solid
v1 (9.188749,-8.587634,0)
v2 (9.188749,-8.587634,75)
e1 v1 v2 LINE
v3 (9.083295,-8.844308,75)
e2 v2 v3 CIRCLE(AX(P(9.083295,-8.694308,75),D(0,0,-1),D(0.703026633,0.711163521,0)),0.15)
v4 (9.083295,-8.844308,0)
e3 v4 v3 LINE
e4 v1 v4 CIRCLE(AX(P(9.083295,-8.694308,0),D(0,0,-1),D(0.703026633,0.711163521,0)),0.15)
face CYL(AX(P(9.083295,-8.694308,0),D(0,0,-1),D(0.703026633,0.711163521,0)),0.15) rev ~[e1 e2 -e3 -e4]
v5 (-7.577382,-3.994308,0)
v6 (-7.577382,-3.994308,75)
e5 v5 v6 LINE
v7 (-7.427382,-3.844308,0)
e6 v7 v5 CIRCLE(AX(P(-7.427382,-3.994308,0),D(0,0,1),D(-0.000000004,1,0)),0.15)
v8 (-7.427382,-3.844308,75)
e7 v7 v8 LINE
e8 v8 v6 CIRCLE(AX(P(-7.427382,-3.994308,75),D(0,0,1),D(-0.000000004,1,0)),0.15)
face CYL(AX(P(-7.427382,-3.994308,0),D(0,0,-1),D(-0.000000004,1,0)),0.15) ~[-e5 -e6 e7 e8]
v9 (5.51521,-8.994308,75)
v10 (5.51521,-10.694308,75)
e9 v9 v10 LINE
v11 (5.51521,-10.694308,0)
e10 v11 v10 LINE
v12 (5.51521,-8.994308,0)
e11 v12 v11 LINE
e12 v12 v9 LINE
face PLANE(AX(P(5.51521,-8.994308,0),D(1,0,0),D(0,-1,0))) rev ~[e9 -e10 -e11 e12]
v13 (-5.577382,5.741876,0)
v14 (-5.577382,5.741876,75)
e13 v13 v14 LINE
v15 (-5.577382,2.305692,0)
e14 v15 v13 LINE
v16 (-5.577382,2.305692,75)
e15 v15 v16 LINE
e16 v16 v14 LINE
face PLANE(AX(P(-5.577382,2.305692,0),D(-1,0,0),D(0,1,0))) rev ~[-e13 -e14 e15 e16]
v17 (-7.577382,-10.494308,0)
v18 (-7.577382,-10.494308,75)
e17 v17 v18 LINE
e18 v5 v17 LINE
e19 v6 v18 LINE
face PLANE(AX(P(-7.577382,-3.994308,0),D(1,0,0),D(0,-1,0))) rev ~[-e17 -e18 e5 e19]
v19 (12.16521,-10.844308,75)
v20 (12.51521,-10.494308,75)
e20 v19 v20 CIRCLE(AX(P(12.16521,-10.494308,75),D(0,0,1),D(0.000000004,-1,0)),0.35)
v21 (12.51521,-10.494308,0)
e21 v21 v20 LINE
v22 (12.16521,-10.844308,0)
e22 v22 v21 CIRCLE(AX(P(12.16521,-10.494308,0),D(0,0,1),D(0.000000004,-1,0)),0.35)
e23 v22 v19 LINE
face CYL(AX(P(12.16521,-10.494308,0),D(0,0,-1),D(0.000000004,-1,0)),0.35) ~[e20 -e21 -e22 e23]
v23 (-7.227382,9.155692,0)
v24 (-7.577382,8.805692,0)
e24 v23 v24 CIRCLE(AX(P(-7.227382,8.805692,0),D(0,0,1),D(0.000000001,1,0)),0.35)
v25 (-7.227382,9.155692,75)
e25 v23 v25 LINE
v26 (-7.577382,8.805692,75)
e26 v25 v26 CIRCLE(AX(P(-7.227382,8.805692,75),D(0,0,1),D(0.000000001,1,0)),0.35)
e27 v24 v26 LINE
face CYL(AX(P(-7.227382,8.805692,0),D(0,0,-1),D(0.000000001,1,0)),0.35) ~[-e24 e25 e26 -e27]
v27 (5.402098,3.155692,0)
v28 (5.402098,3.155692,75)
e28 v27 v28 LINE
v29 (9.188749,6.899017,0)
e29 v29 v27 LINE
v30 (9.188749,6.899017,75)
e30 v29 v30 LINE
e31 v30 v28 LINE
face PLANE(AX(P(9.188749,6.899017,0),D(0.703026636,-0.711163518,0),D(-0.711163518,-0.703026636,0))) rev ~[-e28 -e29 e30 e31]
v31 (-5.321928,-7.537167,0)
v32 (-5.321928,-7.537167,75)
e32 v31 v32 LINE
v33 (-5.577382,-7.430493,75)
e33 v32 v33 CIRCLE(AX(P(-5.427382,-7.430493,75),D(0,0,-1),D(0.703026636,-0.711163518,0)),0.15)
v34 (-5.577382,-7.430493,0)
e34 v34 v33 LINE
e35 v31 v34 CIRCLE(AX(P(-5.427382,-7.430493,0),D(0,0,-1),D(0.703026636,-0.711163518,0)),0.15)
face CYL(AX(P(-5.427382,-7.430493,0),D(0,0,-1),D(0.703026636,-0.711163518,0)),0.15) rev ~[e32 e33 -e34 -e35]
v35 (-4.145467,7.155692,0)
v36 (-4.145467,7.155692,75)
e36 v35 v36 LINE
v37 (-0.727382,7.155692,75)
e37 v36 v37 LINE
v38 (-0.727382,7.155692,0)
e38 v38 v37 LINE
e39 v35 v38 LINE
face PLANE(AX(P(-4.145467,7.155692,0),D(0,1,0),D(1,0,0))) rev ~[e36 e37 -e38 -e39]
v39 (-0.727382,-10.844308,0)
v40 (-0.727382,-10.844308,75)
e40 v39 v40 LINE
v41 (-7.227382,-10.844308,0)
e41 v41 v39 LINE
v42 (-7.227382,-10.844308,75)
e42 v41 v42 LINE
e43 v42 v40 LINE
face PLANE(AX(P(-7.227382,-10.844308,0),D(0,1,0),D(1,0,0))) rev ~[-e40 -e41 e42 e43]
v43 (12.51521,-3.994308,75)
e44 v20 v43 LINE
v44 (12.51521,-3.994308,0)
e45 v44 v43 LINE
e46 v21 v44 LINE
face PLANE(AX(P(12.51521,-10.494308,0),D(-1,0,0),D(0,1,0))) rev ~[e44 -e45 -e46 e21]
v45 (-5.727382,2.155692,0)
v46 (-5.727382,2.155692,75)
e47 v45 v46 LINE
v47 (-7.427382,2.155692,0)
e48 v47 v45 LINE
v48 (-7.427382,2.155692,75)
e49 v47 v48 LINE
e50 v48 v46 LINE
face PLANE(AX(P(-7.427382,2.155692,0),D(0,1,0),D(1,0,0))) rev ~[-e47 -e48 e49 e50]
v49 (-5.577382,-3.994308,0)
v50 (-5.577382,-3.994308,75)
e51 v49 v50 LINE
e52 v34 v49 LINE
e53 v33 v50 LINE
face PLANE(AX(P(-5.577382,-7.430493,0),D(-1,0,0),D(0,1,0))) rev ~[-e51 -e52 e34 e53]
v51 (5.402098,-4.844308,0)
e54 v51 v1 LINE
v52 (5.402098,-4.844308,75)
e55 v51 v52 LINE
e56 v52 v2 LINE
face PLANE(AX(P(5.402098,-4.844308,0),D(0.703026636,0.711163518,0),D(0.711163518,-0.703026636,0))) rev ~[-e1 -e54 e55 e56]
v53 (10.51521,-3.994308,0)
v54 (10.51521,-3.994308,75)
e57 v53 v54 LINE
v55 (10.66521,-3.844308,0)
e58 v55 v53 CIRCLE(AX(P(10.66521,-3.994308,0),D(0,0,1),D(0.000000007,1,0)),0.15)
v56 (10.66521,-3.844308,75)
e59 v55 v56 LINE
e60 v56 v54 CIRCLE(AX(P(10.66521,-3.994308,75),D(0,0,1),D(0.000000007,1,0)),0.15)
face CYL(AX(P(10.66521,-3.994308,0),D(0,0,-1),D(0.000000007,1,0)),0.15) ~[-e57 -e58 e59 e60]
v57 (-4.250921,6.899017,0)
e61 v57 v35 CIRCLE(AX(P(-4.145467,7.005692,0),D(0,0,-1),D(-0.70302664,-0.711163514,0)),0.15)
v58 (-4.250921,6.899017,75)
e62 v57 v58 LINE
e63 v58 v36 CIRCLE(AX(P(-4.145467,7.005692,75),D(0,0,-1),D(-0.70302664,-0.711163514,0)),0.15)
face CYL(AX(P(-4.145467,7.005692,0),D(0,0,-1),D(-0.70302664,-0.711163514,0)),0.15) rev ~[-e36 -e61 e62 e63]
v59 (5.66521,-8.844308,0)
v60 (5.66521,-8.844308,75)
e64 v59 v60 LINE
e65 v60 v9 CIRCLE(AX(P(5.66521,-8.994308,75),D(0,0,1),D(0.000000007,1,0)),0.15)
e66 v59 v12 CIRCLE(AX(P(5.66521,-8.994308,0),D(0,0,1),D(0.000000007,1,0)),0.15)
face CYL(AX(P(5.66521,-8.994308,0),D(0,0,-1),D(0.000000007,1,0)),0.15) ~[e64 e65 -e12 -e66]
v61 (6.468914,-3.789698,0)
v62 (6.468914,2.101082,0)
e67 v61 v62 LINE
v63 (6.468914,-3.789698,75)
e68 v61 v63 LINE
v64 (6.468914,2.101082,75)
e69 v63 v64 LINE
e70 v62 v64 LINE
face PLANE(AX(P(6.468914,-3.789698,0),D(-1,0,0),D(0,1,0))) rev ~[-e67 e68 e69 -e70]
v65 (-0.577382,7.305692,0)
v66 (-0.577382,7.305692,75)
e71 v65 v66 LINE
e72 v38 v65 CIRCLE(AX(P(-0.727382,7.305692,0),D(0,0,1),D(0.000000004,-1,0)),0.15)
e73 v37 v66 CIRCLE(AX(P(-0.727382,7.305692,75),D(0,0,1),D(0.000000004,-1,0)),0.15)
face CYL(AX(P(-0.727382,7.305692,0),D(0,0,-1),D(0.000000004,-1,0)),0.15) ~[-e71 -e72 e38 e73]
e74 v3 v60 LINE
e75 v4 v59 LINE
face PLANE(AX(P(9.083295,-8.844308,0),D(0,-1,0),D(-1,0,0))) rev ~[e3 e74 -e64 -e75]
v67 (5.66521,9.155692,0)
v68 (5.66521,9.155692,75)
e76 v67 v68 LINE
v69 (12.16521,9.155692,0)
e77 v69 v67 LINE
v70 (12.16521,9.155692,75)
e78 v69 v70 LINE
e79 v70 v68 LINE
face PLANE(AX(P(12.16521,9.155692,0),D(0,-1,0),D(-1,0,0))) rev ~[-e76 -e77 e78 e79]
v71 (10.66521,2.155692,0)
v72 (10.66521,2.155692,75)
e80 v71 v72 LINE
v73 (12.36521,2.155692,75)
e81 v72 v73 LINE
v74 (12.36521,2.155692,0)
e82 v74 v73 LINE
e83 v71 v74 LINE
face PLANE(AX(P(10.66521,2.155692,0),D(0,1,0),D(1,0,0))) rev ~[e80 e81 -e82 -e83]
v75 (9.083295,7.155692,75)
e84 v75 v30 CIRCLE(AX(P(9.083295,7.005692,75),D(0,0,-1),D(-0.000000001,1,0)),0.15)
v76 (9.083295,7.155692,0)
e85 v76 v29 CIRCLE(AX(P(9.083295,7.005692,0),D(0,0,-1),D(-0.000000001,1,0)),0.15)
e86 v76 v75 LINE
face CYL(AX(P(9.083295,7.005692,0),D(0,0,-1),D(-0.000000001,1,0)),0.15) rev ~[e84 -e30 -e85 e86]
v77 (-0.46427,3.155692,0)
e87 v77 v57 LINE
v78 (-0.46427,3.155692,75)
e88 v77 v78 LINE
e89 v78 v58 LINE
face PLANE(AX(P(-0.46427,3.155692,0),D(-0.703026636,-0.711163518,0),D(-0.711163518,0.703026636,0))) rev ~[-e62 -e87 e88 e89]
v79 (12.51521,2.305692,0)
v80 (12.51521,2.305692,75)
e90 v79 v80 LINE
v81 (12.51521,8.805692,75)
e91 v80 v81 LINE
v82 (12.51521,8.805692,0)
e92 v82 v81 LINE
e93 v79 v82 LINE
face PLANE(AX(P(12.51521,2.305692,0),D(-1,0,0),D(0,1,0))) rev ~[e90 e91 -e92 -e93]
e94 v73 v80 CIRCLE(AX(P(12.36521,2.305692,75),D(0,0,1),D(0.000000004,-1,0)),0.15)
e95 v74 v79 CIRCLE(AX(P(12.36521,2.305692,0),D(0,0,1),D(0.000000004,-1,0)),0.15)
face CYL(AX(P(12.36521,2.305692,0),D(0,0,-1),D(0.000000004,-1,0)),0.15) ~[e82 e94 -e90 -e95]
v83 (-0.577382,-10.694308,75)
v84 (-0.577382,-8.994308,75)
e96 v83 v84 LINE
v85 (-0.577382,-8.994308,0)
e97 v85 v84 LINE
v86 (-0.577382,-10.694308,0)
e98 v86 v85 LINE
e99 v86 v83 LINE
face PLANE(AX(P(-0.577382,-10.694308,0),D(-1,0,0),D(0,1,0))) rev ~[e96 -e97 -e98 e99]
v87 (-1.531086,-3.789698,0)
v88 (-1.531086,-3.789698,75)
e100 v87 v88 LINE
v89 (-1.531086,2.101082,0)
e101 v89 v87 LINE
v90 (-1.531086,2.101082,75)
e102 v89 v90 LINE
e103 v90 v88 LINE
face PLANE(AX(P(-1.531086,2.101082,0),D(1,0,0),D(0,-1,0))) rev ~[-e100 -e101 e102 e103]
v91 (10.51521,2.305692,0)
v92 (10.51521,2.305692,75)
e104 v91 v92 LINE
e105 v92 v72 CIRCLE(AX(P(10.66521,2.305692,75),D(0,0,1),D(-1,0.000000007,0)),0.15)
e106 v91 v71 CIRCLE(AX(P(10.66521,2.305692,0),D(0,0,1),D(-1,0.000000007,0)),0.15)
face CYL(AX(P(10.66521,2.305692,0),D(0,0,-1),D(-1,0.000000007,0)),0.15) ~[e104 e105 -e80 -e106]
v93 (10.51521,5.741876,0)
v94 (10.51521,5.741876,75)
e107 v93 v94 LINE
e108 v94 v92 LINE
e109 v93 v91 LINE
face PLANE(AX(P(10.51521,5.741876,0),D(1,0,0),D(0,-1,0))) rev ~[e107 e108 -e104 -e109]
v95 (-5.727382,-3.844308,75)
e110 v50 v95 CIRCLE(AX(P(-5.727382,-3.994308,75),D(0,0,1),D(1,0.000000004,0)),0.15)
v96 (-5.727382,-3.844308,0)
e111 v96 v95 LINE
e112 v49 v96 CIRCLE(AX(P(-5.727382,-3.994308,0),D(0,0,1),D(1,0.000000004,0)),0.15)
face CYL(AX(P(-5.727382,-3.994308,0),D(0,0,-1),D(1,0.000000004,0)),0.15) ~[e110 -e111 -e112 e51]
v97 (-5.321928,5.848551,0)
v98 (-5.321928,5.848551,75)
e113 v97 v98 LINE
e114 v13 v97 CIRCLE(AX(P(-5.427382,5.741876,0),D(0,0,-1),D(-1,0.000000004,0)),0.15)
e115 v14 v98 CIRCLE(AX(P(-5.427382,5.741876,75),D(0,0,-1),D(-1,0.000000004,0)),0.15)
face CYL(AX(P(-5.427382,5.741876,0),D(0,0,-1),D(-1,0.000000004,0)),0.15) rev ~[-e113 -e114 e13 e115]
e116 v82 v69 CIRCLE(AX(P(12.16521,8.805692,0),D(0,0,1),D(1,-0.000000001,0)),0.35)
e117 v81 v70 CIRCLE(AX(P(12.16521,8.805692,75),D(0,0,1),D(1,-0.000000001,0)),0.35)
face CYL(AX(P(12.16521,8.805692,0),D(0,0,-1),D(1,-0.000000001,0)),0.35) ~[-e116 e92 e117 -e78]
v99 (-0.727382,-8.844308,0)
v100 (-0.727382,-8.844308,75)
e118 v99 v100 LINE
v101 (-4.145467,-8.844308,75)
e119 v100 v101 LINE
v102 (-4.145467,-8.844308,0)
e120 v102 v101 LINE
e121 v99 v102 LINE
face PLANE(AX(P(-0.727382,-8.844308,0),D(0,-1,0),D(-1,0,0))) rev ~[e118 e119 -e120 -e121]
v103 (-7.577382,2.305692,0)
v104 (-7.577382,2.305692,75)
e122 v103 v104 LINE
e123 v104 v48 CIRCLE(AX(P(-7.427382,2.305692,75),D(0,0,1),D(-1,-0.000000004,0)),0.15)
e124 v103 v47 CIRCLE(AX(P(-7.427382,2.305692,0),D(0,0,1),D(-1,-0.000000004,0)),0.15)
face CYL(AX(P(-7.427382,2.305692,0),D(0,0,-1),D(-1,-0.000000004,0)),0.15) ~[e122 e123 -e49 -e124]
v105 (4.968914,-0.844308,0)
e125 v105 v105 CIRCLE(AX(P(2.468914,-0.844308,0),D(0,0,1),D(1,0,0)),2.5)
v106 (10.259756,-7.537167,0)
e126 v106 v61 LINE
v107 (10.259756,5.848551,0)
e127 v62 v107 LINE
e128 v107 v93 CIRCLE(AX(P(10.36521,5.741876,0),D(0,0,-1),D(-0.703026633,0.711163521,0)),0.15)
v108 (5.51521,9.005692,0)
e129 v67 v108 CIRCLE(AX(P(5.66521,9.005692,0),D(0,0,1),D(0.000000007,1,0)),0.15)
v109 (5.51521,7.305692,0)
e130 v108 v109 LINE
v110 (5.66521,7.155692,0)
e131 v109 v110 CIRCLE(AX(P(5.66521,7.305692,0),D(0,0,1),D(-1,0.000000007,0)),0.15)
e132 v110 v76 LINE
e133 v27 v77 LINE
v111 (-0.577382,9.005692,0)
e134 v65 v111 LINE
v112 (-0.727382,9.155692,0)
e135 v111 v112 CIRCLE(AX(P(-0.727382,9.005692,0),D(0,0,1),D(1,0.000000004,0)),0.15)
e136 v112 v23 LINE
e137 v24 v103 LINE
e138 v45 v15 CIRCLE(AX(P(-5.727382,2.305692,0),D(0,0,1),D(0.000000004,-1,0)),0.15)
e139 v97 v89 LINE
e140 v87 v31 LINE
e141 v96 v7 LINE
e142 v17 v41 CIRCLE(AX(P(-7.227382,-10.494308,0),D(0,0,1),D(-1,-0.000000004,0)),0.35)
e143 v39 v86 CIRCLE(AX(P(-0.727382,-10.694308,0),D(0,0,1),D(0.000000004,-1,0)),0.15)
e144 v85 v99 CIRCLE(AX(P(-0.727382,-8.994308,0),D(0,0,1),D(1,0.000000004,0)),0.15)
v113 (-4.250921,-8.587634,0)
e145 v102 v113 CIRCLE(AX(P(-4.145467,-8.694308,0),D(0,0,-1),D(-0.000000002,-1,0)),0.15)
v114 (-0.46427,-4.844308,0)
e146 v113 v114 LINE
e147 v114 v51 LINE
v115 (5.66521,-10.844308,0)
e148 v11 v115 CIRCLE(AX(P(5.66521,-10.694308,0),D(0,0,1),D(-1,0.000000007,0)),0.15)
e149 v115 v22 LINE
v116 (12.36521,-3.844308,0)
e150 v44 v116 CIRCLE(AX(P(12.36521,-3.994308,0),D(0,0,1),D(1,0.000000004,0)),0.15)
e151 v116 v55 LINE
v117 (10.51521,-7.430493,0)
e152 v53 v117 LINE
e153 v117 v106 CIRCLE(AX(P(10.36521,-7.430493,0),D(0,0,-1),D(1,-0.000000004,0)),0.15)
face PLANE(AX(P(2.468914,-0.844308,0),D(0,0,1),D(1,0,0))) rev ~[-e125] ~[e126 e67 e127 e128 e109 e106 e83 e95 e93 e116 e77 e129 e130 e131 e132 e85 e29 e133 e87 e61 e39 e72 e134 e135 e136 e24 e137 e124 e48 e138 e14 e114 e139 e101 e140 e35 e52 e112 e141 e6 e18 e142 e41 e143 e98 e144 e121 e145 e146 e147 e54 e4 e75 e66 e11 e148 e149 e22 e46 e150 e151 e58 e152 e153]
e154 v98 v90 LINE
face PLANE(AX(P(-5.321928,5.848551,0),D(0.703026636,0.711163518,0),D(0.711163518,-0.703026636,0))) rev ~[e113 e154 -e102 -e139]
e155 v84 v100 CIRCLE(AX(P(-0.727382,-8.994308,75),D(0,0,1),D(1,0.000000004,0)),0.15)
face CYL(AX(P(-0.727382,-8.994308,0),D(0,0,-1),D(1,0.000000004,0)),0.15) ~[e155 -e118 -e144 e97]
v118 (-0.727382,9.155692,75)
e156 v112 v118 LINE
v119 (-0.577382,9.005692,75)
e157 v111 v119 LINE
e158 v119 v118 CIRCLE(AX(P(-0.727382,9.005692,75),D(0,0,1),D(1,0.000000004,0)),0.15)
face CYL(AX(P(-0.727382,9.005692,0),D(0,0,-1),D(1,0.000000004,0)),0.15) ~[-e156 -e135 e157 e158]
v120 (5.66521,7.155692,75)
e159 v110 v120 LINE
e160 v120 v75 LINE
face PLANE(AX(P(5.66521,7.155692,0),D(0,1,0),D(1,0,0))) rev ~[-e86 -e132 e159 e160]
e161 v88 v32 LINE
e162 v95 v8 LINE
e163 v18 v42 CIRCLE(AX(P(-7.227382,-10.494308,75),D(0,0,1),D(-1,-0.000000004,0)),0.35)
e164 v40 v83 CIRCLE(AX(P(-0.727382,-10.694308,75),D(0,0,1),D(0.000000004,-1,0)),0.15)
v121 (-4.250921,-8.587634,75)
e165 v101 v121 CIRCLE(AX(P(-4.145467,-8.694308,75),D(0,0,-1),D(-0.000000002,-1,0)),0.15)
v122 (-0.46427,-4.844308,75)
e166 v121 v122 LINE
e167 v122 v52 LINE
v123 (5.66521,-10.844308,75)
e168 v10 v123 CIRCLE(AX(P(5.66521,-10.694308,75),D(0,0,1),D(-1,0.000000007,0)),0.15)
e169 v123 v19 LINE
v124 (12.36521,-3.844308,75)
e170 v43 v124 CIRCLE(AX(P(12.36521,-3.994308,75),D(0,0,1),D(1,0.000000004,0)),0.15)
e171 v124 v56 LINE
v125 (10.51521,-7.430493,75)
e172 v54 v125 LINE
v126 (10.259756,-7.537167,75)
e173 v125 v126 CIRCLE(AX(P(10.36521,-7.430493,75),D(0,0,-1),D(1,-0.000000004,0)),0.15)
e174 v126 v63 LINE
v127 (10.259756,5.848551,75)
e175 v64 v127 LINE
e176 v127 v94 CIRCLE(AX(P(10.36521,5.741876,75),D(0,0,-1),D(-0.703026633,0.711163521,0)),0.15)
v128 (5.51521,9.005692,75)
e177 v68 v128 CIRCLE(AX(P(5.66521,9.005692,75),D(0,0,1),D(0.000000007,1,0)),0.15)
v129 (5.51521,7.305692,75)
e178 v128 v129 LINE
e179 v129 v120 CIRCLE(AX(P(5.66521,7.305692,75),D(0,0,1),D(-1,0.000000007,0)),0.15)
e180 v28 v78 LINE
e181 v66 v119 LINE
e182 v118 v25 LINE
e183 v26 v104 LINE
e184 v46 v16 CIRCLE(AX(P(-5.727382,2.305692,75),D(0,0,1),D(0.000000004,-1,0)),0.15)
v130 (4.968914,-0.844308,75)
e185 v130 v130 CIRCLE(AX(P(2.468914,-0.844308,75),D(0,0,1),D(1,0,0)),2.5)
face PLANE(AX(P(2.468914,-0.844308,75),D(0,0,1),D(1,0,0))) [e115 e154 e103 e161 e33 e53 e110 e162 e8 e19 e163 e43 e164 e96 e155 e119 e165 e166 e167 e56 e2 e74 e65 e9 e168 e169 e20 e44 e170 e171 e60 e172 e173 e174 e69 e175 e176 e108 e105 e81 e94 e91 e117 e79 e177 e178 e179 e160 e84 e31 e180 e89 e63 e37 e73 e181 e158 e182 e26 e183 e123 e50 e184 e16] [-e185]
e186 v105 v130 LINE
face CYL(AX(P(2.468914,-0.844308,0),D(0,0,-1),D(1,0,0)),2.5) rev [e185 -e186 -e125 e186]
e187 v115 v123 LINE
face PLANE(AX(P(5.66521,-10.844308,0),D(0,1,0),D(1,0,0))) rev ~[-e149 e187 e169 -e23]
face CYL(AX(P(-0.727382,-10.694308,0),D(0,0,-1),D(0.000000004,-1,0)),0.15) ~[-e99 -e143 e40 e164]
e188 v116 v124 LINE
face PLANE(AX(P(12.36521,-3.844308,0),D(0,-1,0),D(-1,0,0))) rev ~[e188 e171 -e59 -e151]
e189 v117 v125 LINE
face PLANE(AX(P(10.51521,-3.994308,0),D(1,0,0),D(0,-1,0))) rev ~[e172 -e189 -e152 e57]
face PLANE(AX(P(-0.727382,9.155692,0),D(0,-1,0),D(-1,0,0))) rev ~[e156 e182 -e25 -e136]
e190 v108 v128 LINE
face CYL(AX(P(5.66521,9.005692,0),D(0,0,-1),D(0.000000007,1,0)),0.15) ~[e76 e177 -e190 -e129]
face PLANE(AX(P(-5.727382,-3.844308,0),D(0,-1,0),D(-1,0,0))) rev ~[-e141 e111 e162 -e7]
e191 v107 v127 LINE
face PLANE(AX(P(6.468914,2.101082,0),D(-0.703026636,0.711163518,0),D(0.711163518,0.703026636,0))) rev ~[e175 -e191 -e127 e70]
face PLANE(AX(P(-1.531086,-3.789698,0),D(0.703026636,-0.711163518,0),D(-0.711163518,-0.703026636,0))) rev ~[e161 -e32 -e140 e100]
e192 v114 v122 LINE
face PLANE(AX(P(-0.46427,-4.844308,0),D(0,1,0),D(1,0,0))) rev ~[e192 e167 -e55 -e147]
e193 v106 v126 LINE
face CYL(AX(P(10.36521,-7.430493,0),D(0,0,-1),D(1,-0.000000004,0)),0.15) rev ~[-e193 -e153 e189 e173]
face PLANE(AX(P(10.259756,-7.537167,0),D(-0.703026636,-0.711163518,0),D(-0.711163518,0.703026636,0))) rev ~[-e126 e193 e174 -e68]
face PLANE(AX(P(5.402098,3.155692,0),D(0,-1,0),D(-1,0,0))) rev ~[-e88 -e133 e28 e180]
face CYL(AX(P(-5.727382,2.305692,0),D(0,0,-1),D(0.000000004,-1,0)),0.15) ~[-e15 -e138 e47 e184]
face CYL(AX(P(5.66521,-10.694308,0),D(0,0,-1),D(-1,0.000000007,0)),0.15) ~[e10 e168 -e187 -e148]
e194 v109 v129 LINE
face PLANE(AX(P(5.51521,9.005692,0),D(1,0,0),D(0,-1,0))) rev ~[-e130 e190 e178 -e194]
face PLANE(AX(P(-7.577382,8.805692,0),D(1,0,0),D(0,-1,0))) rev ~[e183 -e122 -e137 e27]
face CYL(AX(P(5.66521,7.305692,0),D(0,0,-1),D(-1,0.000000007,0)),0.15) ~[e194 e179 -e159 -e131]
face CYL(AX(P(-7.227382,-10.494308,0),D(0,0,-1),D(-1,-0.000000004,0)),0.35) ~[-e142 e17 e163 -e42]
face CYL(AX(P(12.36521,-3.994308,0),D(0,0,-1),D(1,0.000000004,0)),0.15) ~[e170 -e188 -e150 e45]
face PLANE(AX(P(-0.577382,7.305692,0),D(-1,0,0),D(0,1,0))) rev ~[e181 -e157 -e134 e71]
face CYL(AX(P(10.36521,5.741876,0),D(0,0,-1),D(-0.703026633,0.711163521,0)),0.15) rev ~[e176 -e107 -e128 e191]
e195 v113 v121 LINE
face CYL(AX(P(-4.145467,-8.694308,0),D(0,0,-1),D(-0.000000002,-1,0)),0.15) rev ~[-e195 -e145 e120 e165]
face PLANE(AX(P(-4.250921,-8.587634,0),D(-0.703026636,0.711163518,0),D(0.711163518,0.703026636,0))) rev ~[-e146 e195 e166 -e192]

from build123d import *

# Parameters (mm, degrees)
SKETCH1_R           = 2.5
BOSS_EXTRUDE1_DEPTH = 75


with BuildPart() as part:
    # Sketch1 → Boss-Extrude1 (new body)
    with BuildSketch(Plane.XY):
        with BuildLine():
            Line((-7.427382464, 2.155691805), (-5.727382464, 2.155691805))
            ThreePointArc((-5.727382464, 2.155691805), (-5.621316447, 2.199625788), (-5.577382464, 2.305691805))
            Line((-5.577382464, 2.305691805), (-5.577382464, 5.741876319))
            ThreePointArc((-5.577382464, 5.741876319), (-5.485183419, 5.880292537), (-5.321928469, 5.848550846))
            Line((-5.321928469, 5.848550846), (-1.531086168, 2.101082027))
            Line((-1.531086168, 2.101082027), (-1.531086168, -3.789698417))
            Line((-1.531086168, -3.789698417), (-5.321928469, -7.537167236))
            ThreePointArc((-5.321928469, -7.537167236), (-5.485183419, -7.568908927), (-5.577382464, -7.430492708))
            Line((-5.577382464, -7.430492708), (-5.577382464, -3.994308195))
            ThreePointArc((-5.577382464, -3.994308195), (-5.621316447, -3.888242178), (-5.727382464, -3.844308195))
            Line((-5.727382464, -3.844308195), (-7.427382464, -3.844308195))
            ThreePointArc((-7.427382464, -3.844308195), (-7.533448481, -3.888242178), (-7.577382464, -3.994308195))
            Line((-7.577382464, -3.994308195), (-7.577382464, -10.494308195))
            ThreePointArc((-7.577382464, -10.494308195), (-7.474869837, -10.741795568), (-7.227382464, -10.844308195))
            Line((-7.227382464, -10.844308195), (-0.727382464, -10.844308195))
            ThreePointArc((-0.727382464, -10.844308195), (-0.621316447, -10.800374212), (-0.577382464, -10.694308195))
            Line((-0.577382464, -10.694308195), (-0.577382464, -8.994308195))
            ThreePointArc((-0.577382464, -8.994308195), (-0.621316447, -8.888242178), (-0.727382464, -8.844308195))
            Line((-0.727382464, -8.844308195), (-4.145467261, -8.844308195))
            ThreePointArc((-4.145467261, -8.844308195), (-4.284213755, -8.751311795), (-4.250921257, -8.587633667))
            Line((-4.250921257, -8.587633667), (-0.464270258, -4.844308195))
            Line((-0.464270258, -4.844308195), (5.402097922, -4.844308195))
            Line((5.402097922, -4.844308195), (9.188748921, -8.587633667))
            ThreePointArc((9.188748921, -8.587633667), (9.22204142, -8.751311795), (9.083294926, -8.844308195))
            Line((9.083294926, -8.844308195), (5.665210129, -8.844308195))
            ThreePointArc((5.665210129, -8.844308195), (5.559144111, -8.888242178), (5.515210129, -8.994308195))
            Line((5.515210129, -8.994308195), (5.515210129, -10.694308195))
            ThreePointArc((5.515210129, -10.694308195), (5.559144111, -10.800374212), (5.665210129, -10.844308195))
            Line((5.665210129, -10.844308195), (12.165210129, -10.844308195))
            ThreePointArc((12.165210129, -10.844308195), (12.412697502, -10.741795568), (12.515210129, -10.494308195))
            Line((12.515210129, -10.494308195), (12.515210129, -3.994308195))
            ThreePointArc((12.515210129, -3.994308195), (12.471276146, -3.888242178), (12.365210129, -3.844308195))
            Line((12.365210129, -3.844308195), (10.665210129, -3.844308195))
            ThreePointArc((10.665210129, -3.844308195), (10.559144111, -3.888242178), (10.515210129, -3.994308195))
            Line((10.515210129, -3.994308195), (10.515210129, -7.430492708))
            ThreePointArc((10.515210129, -7.430492708), (10.423011083, -7.568908927), (10.259756133, -7.537167236))
            Line((10.259756133, -7.537167236), (6.468913832, -3.789698417))
            Line((6.468913832, -3.789698417), (6.468913832, 2.101082027))
            Line((6.468913832, 2.101082027), (10.259756133, 5.848550846))
            ThreePointArc((10.259756133, 5.848550846), (10.423011083, 5.880292537), (10.515210129, 5.741876319))
            Line((10.515210129, 5.741876319), (10.515210129, 2.305691805))
            ThreePointArc((10.515210129, 2.305691805), (10.559144111, 2.199625788), (10.665210129, 2.155691805))
            Line((10.665210129, 2.155691805), (12.365210129, 2.155691805))
            ThreePointArc((12.365210129, 2.155691805), (12.471276146, 2.199625788), (12.515210129, 2.305691805))
            Line((12.515210129, 2.305691805), (12.515210129, 8.805691805))
            ThreePointArc((12.515210129, 8.805691805), (12.412697502, 9.053179179), (12.165210129, 9.155691805))
            Line((12.165210129, 9.155691805), (5.665210129, 9.155691805))
            ThreePointArc((5.665210129, 9.155691805), (5.559144111, 9.111757822), (5.515210129, 9.005691805))
            Line((5.515210129, 9.005691805), (5.515210129, 7.305691805))
            ThreePointArc((5.515210129, 7.305691805), (5.559144111, 7.199625788), (5.665210129, 7.155691805))
            Line((5.665210129, 7.155691805), (9.083294926, 7.155691805))
            ThreePointArc((9.083294926, 7.155691805), (9.22204142, 7.062695405), (9.188748921, 6.899017277))
            Line((9.188748921, 6.899017277), (5.402097922, 3.155691805))
            Line((5.402097922, 3.155691805), (-0.464270258, 3.155691805))
            Line((-0.464270258, 3.155691805), (-4.250921257, 6.899017277))
            ThreePointArc((-4.250921257, 6.899017277), (-4.284213755, 7.062695405), (-4.145467261, 7.155691805))
            Line((-4.145467261, 7.155691805), (-0.727382464, 7.155691805))
            ThreePointArc((-0.727382464, 7.155691805), (-0.621316447, 7.199625788), (-0.577382464, 7.305691805))
            Line((-0.577382464, 7.305691805), (-0.577382464, 9.005691805))
            ThreePointArc((-0.577382464, 9.005691805), (-0.621316447, 9.111757822), (-0.727382464, 9.155691805))
            Line((-0.727382464, 9.155691805), (-7.227382464, 9.155691805))
            ThreePointArc((-7.227382464, 9.155691805), (-7.474869837, 9.053179179), (-7.577382464, 8.805691805))
            Line((-7.577382464, 8.805691805), (-7.577382464, 2.305691805))
            ThreePointArc((-7.577382464, 2.305691805), (-7.533448481, 2.199625788), (-7.427382464, 2.155691805))
        make_face()
        with Locations((2.468913832, -0.844308195)):
            Circle(SKETCH1_R, mode=Mode.SUBTRACT)
    extrude(amount=BOSS_EXTRUDE1_DEPTH)


solid = part.part
